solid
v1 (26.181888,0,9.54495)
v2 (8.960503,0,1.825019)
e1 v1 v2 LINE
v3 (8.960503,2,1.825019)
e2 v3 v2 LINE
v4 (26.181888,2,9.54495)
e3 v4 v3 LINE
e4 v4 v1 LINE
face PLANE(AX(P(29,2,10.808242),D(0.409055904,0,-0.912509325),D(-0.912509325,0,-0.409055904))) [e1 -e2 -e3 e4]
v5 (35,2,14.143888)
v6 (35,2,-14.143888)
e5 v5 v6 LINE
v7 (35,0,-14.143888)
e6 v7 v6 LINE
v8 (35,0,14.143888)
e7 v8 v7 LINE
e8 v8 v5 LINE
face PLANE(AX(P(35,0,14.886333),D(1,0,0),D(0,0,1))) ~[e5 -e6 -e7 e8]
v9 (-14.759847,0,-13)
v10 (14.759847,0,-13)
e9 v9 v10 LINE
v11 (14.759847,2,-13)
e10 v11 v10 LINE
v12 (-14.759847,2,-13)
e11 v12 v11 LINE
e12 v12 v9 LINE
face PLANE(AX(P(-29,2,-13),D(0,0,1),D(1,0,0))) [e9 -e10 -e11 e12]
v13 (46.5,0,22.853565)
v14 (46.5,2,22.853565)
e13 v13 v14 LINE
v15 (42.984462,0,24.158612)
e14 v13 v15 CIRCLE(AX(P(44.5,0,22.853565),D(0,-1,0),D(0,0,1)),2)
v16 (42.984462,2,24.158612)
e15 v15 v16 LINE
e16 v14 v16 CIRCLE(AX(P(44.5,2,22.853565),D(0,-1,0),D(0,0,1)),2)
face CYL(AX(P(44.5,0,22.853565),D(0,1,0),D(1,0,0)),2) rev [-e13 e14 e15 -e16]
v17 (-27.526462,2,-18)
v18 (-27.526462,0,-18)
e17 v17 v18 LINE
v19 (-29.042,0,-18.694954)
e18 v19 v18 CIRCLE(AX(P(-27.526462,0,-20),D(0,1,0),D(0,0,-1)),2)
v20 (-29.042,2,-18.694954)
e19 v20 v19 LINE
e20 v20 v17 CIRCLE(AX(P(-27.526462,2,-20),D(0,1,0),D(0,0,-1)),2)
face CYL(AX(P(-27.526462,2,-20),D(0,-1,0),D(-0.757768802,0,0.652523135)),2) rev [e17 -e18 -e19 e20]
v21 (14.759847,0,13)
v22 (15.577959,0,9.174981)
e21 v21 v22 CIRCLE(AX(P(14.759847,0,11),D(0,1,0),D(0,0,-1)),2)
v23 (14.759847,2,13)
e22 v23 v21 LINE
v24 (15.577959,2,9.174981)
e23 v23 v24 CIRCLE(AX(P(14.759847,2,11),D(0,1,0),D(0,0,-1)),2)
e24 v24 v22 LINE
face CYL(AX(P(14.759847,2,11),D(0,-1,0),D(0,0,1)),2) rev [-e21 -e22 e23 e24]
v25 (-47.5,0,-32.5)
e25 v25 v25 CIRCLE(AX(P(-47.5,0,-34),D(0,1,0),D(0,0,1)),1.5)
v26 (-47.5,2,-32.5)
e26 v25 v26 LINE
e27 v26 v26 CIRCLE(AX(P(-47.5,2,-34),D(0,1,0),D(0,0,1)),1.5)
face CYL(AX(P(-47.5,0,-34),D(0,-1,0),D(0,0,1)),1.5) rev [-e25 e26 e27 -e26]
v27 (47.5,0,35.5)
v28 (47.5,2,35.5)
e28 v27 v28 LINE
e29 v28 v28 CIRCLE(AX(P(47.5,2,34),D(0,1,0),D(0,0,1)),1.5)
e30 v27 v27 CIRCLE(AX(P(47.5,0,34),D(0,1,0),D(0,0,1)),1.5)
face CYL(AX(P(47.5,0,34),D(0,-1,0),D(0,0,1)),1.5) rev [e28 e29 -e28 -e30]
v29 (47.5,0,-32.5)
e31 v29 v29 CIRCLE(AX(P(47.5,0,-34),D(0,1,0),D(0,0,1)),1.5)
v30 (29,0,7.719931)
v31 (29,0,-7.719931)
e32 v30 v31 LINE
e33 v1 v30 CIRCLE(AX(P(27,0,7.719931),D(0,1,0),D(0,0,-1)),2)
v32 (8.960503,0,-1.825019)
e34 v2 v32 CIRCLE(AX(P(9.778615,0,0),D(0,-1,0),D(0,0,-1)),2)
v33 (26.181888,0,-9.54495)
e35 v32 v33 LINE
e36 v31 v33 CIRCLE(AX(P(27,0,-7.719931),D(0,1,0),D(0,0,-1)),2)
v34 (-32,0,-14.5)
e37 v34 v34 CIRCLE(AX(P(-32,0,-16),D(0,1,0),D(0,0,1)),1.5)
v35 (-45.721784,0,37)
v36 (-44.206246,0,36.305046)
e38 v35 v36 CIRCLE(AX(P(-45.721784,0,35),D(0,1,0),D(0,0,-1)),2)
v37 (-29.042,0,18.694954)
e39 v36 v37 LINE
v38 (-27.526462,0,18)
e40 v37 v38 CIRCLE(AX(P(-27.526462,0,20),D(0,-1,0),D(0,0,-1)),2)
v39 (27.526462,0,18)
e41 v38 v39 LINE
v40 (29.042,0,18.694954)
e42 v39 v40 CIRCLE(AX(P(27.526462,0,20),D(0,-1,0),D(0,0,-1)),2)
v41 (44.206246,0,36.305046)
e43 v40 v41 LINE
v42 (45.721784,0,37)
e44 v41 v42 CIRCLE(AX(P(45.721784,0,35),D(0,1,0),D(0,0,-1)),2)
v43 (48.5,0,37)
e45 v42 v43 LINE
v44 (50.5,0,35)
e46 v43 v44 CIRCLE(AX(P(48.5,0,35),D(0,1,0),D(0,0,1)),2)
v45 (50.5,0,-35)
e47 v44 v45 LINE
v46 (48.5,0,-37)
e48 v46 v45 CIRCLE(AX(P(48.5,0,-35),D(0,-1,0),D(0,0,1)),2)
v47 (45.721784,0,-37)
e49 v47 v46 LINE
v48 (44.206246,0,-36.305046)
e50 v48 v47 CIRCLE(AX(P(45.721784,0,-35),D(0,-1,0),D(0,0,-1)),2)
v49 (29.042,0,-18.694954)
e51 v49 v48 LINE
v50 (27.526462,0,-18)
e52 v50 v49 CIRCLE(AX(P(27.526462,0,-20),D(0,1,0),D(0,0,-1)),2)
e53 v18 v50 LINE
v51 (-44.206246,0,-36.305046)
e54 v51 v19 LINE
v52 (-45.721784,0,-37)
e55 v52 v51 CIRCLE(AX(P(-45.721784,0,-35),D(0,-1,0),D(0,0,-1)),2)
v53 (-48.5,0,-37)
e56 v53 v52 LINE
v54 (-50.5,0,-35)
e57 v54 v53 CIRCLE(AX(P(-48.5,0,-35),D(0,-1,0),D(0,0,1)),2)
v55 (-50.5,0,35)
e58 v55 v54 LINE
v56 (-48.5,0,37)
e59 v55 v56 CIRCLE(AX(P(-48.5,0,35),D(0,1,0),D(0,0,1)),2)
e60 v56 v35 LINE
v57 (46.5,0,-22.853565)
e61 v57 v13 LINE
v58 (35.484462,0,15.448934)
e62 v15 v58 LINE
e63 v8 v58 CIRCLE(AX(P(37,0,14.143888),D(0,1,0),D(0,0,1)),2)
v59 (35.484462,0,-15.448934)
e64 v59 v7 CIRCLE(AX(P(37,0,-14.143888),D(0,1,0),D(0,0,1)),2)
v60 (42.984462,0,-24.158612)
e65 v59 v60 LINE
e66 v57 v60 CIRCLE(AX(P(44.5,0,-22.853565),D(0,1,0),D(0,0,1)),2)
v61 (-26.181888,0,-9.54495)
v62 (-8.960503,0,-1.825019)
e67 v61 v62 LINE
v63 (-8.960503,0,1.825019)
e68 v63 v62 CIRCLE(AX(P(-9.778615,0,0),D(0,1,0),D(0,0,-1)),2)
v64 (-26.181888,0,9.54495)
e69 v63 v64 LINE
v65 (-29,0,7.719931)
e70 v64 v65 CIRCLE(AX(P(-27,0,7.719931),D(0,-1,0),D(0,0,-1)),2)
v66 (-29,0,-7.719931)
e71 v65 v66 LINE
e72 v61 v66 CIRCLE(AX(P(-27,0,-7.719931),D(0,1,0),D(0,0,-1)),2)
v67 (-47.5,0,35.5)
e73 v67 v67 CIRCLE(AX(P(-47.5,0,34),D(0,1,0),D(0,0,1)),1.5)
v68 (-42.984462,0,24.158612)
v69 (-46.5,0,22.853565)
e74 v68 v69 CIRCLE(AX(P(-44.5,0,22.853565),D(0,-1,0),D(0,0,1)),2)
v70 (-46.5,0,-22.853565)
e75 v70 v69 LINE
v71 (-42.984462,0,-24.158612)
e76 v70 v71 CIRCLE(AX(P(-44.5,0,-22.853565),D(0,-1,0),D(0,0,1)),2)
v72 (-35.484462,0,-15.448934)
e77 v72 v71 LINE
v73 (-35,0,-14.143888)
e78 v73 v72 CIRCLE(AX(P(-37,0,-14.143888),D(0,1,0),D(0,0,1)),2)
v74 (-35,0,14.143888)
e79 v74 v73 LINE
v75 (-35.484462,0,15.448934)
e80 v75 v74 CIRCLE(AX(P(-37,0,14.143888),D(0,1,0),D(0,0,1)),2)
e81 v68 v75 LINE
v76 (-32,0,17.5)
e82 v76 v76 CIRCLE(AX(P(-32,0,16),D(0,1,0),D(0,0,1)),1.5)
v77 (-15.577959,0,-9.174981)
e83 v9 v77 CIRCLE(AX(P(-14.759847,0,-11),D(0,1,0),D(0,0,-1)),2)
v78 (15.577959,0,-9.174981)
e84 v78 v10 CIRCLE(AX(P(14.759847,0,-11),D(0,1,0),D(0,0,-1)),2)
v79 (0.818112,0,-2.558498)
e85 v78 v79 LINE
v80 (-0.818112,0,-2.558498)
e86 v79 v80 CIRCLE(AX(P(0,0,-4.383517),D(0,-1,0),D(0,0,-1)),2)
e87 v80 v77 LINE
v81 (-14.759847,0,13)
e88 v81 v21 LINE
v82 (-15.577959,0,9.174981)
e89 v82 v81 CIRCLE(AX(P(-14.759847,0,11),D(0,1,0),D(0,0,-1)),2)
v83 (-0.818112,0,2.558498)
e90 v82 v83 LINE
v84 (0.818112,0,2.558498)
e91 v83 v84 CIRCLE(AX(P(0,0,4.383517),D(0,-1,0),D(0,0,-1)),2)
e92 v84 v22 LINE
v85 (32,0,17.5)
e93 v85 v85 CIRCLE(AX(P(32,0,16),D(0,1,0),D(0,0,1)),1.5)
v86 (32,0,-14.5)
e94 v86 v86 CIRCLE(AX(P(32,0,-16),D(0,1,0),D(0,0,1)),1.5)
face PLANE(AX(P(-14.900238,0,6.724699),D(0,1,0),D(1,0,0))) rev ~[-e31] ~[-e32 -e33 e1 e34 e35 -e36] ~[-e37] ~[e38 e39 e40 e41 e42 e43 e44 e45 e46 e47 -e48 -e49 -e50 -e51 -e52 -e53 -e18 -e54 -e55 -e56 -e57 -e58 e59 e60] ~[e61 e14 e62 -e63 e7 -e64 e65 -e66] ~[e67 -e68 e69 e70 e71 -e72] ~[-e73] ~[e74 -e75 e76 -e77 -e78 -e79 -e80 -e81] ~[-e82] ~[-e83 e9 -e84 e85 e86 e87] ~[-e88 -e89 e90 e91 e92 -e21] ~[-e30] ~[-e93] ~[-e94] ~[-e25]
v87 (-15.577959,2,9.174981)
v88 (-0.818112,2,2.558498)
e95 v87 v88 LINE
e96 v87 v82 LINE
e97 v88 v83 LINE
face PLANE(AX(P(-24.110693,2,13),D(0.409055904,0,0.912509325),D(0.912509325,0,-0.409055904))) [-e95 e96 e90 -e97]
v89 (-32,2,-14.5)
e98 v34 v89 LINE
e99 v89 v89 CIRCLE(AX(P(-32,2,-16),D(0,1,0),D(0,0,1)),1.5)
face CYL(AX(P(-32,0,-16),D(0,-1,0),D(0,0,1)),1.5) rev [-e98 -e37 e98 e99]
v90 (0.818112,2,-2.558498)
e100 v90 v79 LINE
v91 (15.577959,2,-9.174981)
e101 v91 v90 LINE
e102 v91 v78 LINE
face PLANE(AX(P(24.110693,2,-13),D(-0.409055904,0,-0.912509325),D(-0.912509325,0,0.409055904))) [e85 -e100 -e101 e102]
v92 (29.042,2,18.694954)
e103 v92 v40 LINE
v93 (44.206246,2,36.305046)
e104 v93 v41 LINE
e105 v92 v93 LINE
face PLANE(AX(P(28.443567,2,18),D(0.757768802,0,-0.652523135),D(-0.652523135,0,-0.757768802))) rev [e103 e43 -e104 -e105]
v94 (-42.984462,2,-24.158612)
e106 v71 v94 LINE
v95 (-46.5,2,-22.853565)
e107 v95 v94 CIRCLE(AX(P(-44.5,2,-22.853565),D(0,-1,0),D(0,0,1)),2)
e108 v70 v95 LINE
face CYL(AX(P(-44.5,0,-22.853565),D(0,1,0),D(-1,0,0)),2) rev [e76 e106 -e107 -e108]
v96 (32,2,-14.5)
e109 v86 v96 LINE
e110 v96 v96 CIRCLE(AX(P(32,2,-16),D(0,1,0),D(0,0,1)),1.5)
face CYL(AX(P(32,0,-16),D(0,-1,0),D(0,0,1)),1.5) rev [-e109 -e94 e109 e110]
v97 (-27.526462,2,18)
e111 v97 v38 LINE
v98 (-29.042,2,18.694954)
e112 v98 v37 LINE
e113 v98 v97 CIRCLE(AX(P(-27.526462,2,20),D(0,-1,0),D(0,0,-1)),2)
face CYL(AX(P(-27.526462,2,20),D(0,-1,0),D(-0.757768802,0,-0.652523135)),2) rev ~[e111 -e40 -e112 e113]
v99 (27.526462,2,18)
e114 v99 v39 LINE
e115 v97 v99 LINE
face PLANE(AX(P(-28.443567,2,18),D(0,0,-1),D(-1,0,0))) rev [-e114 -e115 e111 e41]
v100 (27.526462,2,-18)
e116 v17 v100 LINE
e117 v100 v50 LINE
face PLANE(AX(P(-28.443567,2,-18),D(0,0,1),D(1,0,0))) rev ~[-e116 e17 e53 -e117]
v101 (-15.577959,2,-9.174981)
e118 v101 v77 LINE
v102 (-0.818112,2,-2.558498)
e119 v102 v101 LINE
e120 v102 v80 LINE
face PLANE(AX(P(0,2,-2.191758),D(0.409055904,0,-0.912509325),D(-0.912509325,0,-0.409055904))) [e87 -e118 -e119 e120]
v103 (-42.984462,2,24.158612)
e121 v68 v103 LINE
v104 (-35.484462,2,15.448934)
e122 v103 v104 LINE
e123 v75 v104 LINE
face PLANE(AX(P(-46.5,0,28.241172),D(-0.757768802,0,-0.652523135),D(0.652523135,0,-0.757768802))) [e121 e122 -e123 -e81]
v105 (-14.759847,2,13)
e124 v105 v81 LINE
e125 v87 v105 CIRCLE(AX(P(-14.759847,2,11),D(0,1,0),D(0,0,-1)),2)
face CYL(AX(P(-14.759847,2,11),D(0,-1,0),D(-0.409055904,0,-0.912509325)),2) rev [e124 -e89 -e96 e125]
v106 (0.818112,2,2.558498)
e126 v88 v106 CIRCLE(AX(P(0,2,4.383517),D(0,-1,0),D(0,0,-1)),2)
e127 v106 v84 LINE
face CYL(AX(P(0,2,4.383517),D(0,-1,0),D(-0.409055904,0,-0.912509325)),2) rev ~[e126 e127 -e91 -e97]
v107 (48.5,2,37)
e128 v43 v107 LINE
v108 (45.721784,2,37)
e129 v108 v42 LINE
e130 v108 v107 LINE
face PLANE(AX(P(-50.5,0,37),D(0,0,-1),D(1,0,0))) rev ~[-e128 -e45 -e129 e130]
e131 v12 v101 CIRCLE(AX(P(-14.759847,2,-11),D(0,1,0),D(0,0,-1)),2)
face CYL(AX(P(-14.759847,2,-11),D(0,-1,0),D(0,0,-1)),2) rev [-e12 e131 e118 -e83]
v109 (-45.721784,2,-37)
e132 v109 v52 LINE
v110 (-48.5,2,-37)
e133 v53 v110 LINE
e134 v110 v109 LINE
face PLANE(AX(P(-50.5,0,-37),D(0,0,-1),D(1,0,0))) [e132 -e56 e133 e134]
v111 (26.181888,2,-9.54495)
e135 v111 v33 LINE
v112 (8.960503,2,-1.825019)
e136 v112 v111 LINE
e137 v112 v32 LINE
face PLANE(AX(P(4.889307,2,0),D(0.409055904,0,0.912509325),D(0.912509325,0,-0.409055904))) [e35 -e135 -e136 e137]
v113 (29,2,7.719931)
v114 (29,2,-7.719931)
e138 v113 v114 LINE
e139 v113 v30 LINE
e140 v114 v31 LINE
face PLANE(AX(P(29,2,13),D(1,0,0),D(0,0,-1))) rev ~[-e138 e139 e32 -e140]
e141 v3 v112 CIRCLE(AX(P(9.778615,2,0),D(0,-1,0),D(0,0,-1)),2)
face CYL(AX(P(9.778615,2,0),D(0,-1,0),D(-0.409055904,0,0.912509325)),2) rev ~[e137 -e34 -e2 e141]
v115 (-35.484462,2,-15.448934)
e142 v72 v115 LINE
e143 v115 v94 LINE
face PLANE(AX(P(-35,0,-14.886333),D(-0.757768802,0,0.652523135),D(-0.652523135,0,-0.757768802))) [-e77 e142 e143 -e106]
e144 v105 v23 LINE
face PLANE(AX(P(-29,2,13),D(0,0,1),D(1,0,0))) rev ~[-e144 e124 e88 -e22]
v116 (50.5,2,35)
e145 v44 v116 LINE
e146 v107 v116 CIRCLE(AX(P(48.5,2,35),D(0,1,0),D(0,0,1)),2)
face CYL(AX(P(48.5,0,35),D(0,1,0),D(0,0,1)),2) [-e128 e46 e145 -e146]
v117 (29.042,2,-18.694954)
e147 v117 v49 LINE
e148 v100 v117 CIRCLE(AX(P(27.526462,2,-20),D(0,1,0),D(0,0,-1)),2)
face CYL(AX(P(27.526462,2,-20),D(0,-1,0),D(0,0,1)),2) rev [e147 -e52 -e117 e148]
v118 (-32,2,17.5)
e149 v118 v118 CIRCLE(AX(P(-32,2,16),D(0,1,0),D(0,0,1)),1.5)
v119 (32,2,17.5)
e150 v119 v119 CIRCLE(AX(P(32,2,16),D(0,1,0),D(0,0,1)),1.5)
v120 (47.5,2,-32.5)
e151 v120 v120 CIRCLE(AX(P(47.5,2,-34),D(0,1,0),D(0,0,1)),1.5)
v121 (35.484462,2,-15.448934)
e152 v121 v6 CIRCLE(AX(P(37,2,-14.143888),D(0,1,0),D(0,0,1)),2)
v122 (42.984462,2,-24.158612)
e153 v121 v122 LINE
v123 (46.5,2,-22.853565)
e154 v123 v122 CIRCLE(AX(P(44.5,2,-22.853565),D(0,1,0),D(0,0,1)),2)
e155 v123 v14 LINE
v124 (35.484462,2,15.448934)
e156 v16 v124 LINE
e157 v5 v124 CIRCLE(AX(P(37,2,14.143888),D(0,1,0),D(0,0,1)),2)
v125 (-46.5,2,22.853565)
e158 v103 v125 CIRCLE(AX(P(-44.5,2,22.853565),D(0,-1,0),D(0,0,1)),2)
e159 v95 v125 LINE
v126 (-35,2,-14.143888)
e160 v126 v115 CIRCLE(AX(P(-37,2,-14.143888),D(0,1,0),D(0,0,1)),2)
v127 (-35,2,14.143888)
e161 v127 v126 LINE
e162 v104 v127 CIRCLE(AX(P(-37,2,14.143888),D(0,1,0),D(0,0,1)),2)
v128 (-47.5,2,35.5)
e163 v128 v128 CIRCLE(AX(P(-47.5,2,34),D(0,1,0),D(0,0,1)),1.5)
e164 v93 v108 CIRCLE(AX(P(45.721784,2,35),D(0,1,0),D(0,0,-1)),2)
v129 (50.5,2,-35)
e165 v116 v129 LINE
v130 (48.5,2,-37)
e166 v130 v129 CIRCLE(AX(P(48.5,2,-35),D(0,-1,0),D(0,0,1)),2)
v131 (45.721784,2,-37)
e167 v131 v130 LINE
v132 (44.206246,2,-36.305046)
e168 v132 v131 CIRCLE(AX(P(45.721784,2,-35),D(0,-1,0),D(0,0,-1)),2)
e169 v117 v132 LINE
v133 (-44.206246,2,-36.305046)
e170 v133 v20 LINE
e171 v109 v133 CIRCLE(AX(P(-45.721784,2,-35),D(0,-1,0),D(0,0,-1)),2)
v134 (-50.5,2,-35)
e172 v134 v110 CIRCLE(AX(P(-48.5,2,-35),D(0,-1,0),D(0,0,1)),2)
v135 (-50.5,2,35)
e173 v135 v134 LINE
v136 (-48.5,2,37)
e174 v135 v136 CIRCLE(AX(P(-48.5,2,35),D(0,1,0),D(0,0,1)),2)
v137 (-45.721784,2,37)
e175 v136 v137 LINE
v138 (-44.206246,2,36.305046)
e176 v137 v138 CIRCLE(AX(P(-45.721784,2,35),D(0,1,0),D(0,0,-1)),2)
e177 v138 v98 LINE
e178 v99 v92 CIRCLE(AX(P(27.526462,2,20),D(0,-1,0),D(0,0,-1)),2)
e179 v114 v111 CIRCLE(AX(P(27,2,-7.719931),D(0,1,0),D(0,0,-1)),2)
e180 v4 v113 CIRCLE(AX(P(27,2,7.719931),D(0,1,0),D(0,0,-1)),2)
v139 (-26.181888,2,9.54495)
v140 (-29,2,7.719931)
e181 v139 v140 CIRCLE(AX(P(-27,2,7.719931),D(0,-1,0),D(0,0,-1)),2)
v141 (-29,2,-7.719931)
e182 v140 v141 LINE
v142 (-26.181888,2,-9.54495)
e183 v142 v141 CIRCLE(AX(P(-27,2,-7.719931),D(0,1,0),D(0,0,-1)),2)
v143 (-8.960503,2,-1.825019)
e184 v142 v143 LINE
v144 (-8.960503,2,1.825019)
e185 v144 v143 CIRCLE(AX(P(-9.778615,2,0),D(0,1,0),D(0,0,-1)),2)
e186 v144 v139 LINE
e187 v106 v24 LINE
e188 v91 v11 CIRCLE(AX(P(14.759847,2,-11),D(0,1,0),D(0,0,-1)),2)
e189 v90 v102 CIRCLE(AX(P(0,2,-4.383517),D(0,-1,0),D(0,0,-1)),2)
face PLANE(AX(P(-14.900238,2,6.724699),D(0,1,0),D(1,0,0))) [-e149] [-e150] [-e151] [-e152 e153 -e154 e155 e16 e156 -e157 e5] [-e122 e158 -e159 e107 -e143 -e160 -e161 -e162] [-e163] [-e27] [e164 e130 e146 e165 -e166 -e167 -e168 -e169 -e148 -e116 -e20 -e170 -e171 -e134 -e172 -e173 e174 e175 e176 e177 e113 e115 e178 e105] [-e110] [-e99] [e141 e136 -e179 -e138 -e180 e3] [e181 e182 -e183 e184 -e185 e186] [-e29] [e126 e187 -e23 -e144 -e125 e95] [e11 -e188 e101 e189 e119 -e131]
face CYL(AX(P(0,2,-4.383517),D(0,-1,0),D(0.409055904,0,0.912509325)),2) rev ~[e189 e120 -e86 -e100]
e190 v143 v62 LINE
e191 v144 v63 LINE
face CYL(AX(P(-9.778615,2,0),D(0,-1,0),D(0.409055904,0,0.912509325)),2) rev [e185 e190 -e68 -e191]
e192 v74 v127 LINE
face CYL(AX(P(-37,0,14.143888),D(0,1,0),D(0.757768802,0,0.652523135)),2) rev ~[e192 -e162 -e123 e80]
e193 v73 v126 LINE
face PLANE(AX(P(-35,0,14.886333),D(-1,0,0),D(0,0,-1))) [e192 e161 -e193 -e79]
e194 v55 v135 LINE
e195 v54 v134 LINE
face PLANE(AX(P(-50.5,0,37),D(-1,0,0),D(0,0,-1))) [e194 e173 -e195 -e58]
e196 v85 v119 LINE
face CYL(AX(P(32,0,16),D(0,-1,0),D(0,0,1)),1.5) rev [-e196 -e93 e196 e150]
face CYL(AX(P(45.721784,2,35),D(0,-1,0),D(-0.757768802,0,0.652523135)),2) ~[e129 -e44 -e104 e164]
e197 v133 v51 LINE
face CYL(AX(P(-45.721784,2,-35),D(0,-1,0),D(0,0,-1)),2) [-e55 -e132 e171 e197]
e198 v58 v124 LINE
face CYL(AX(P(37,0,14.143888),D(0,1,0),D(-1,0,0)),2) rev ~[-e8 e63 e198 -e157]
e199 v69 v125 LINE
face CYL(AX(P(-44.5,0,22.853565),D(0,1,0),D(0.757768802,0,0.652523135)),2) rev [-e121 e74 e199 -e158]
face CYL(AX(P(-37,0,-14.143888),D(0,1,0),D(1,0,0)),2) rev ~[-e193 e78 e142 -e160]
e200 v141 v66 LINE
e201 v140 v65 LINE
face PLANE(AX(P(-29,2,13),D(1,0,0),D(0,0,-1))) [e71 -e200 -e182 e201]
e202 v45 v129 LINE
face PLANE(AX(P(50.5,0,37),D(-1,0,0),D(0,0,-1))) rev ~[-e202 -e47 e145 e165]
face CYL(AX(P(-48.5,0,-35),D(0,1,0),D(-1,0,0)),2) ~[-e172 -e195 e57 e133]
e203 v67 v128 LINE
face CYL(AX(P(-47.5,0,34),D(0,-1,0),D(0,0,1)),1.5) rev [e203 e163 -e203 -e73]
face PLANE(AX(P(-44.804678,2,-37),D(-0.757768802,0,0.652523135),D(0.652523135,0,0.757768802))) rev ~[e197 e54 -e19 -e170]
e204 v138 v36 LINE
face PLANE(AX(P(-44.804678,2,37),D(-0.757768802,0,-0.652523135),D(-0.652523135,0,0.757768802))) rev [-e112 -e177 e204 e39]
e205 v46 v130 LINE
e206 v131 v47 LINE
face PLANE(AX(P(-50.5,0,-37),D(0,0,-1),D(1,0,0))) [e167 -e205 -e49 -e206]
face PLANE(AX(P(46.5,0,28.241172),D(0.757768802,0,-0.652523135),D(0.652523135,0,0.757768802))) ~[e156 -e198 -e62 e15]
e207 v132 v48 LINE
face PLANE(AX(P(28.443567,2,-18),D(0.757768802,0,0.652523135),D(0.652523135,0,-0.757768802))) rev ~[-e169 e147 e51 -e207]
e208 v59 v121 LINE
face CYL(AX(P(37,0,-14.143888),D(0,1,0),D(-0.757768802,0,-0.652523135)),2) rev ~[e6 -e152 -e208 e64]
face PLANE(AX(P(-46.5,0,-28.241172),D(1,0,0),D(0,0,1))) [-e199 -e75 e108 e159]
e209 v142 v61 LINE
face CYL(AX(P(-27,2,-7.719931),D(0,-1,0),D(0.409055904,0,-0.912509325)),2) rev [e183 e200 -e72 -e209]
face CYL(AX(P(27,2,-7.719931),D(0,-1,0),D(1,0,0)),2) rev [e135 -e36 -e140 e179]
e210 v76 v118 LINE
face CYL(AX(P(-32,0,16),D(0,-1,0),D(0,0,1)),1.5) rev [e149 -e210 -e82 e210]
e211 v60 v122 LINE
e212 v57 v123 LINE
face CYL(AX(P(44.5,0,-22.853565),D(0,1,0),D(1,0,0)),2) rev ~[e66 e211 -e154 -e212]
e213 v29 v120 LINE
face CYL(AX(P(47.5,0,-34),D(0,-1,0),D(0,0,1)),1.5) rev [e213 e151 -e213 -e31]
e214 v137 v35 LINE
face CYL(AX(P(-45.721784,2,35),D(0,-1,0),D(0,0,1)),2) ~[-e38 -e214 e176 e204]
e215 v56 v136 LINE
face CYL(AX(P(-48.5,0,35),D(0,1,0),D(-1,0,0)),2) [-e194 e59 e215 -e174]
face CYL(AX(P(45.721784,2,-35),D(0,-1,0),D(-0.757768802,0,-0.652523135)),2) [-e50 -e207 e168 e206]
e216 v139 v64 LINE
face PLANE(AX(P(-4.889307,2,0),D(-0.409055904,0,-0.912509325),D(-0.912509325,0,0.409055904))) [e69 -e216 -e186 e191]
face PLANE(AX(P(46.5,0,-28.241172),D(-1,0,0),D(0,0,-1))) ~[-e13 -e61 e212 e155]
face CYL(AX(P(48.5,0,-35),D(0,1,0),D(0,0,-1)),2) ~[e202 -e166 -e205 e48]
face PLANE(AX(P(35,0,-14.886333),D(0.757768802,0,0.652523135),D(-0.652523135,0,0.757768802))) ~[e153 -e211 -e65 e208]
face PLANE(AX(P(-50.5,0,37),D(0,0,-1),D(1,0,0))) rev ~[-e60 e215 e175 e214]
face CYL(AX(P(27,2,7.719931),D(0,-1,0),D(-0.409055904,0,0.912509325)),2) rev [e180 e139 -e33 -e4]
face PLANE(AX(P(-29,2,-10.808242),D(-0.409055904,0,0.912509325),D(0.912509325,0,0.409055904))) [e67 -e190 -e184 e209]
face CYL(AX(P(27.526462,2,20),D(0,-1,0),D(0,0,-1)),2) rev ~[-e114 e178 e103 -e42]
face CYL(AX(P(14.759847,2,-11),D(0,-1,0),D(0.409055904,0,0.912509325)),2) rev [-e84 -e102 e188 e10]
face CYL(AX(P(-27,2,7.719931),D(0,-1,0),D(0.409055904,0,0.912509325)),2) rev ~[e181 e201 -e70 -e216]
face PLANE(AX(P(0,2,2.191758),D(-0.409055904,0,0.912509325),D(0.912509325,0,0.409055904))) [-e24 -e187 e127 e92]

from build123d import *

# Parameters (mm, degrees)
SKETCH_1_W          = 101
SKETCH_1_H          = 74
SKETCH_1_R          = 1.5
EXTRUDE_1_DEPTH     = 2
SKETCH_2_W          = 58
SKETCH_2_H          = 26
CUT_EXTRUDE_1_DEPTH = 2
CUT_EXTRUDE_2_DEPTH = 2
EXTRUDE_2_DEPTH     = 2
CUT_EXTRUDE_3_DEPTH = 2
FILLET_1_R          = 2


with BuildPart() as part:
    # 草图1 → 凸台-拉伸1 (new body)
    with BuildSketch(Plane(origin=(0, 0, 0), x_dir=(1, 0, 0), z_dir=(0, 1, 0))):
        Rectangle(SKETCH_1_W, SKETCH_1_H)
        with Locations(Location((32, -16, 0), (0, 0, 270))):
            Circle(SKETCH_1_R, mode=Mode.SUBTRACT)
        with Locations(Location((32, 16, 0), (0, 0, 270))):
            Circle(SKETCH_1_R, mode=Mode.SUBTRACT)
        with Locations(Location((-32, 16, 0), (0, 0, 270))):
            Circle(SKETCH_1_R, mode=Mode.SUBTRACT)
        with Locations(Location((-32, -16, 0), (0, 0, 270))):
            Circle(SKETCH_1_R, mode=Mode.SUBTRACT)
        with Locations(Location((47.5, 34, 0), (0, 0, 270))):
            Circle(SKETCH_1_R, mode=Mode.SUBTRACT)
        with Locations(Location((-47.5, 34, 0), (0, 0, 270))):
            Circle(SKETCH_1_R, mode=Mode.SUBTRACT)
        with Locations(Location((-47.5, -34, 0), (0, 0, 270))):
            Circle(SKETCH_1_R, mode=Mode.SUBTRACT)
        with Locations(Location((47.5, -34, 0), (0, 0, 270))):
            Circle(SKETCH_1_R, mode=Mode.SUBTRACT)
    extrude(amount=EXTRUDE_1_DEPTH)

    # 草图2 → 切除-拉伸1 (cut)
    with BuildSketch(Plane(origin=(0, 2, 0), x_dir=(1, 0, 0), z_dir=(0, 1, 0))):
        Rectangle(SKETCH_2_W, SKETCH_2_H)
    extrude(amount=-CUT_EXTRUDE_1_DEPTH, mode=Mode.SUBTRACT)

    # 草图3 → 切除-拉伸2 (cut)
    with BuildSketch(Plane(origin=(0, 2, 0), x_dir=(1, 0, 0), z_dir=(0, 1, 0))):
        Polygon((-44.804678435, 37), (-28.443567324, 18), (28.443567324, 18), (44.804678435, 37), align=None)
    cut_extrude_2 = extrude(amount=-CUT_EXTRUDE_2_DEPTH, mode=Mode.SUBTRACT)

    # 镜向1: 切除-拉伸2 across plane
    add(cut_extrude_2.mirror(Plane.XY), mode=Mode.SUBTRACT)

    # 草图4 → 凸台-拉伸2 (add)
    with BuildSketch(Plane(origin=(0, 2, 0), x_dir=(1, 0, 0), z_dir=(0, 1, 0))):
        Polygon((0, -2.191758425), (-4.889307256, 0), (-29, -10.808241575), (-29, -13), (-24.110692744, -13), align=None)
        Polygon((-29, 13), (-29, 10.808241575), (-4.889307256, 0), (0, 2.191758425), (-24.110692744, 13), align=None)
        Polygon((0, 2.191758425), (-4.889307256, 0), (0, -2.191758425), (4.889307256, 0), align=None)
        Polygon((24.110692744, 13), (0, 2.191758425), (4.889307256, 0), (29, 10.808241575), (29, 13), align=None)
        Polygon((4.889307256, 0), (0, -2.191758425), (24.110692744, -13), (29, -13), (29, -10.808241575), align=None)
    extrude(amount=-EXTRUDE_2_DEPTH)

    # 草图5 → 切除-拉伸3 (cut)
    with BuildSketch(Plane.XZ):
        Polygon((-46.5, 28.241171541), (-35, 14.886332831), (-35, -14.886332831), (-46.5, -28.241171541), align=None)
    cut_extrude_3 = extrude(amount=-CUT_EXTRUDE_3_DEPTH, mode=Mode.SUBTRACT)

    # 镜向2: 切除-拉伸3 across plane
    add(cut_extrude_3.mirror(Plane(origin=(0, 0, 0), x_dir=(0, 0, 1), z_dir=(1, 0, 0))), mode=Mode.SUBTRACT)

    # 圆角1
    fillet_1_edges = [part.edges().sort_by_distance(p)[0] for p in [
        (0, 1, 2.191758425),
        (-24.110692744, 1, 13),
        (-29, 1, 10.808241575),
        (-4.889307256, 1, 0),
        (-29, 1, -10.808241575),
        (-24.110692744, 1, -13),
        (0, 1, -2.191758425),
        (24.110692744, 1, -13),
        (29, 1, -10.808241575),
        (4.889307256, 1, 0),
        (29, 1, 10.808241575),
        (24.110692744, 1, 13),
        (-46.5, 1, -28.241171541),
        (-46.5, 1, 28.241171541),
        (-35, 1, 14.886332831),
        (-35, 1, -14.886332831),
        (46.5, 1, 28.241171541),
        (46.5, 1, -28.241171541),
        (35, 1, -14.886332831),
        (35, 1, 14.886332831),
        (-44.804678435, 1, -37),
        (44.804678435, 1, -37),
        (28.443567324, 1, -18),
        (-28.443567324, 1, -18),
        (-50.5, 1, 37),
        (-50.5, 1, -37),
        (50.5, 1, -37),
        (50.5, 1, 37),
        (44.804678435, 1, 37),
        (-44.804678435, 1, 37),
        (-28.443567324, 1, 18),
        (28.443567324, 1, 18),
    ]]
    fillet(fillet_1_edges, radius=FILLET_1_R)


solid = part.part
